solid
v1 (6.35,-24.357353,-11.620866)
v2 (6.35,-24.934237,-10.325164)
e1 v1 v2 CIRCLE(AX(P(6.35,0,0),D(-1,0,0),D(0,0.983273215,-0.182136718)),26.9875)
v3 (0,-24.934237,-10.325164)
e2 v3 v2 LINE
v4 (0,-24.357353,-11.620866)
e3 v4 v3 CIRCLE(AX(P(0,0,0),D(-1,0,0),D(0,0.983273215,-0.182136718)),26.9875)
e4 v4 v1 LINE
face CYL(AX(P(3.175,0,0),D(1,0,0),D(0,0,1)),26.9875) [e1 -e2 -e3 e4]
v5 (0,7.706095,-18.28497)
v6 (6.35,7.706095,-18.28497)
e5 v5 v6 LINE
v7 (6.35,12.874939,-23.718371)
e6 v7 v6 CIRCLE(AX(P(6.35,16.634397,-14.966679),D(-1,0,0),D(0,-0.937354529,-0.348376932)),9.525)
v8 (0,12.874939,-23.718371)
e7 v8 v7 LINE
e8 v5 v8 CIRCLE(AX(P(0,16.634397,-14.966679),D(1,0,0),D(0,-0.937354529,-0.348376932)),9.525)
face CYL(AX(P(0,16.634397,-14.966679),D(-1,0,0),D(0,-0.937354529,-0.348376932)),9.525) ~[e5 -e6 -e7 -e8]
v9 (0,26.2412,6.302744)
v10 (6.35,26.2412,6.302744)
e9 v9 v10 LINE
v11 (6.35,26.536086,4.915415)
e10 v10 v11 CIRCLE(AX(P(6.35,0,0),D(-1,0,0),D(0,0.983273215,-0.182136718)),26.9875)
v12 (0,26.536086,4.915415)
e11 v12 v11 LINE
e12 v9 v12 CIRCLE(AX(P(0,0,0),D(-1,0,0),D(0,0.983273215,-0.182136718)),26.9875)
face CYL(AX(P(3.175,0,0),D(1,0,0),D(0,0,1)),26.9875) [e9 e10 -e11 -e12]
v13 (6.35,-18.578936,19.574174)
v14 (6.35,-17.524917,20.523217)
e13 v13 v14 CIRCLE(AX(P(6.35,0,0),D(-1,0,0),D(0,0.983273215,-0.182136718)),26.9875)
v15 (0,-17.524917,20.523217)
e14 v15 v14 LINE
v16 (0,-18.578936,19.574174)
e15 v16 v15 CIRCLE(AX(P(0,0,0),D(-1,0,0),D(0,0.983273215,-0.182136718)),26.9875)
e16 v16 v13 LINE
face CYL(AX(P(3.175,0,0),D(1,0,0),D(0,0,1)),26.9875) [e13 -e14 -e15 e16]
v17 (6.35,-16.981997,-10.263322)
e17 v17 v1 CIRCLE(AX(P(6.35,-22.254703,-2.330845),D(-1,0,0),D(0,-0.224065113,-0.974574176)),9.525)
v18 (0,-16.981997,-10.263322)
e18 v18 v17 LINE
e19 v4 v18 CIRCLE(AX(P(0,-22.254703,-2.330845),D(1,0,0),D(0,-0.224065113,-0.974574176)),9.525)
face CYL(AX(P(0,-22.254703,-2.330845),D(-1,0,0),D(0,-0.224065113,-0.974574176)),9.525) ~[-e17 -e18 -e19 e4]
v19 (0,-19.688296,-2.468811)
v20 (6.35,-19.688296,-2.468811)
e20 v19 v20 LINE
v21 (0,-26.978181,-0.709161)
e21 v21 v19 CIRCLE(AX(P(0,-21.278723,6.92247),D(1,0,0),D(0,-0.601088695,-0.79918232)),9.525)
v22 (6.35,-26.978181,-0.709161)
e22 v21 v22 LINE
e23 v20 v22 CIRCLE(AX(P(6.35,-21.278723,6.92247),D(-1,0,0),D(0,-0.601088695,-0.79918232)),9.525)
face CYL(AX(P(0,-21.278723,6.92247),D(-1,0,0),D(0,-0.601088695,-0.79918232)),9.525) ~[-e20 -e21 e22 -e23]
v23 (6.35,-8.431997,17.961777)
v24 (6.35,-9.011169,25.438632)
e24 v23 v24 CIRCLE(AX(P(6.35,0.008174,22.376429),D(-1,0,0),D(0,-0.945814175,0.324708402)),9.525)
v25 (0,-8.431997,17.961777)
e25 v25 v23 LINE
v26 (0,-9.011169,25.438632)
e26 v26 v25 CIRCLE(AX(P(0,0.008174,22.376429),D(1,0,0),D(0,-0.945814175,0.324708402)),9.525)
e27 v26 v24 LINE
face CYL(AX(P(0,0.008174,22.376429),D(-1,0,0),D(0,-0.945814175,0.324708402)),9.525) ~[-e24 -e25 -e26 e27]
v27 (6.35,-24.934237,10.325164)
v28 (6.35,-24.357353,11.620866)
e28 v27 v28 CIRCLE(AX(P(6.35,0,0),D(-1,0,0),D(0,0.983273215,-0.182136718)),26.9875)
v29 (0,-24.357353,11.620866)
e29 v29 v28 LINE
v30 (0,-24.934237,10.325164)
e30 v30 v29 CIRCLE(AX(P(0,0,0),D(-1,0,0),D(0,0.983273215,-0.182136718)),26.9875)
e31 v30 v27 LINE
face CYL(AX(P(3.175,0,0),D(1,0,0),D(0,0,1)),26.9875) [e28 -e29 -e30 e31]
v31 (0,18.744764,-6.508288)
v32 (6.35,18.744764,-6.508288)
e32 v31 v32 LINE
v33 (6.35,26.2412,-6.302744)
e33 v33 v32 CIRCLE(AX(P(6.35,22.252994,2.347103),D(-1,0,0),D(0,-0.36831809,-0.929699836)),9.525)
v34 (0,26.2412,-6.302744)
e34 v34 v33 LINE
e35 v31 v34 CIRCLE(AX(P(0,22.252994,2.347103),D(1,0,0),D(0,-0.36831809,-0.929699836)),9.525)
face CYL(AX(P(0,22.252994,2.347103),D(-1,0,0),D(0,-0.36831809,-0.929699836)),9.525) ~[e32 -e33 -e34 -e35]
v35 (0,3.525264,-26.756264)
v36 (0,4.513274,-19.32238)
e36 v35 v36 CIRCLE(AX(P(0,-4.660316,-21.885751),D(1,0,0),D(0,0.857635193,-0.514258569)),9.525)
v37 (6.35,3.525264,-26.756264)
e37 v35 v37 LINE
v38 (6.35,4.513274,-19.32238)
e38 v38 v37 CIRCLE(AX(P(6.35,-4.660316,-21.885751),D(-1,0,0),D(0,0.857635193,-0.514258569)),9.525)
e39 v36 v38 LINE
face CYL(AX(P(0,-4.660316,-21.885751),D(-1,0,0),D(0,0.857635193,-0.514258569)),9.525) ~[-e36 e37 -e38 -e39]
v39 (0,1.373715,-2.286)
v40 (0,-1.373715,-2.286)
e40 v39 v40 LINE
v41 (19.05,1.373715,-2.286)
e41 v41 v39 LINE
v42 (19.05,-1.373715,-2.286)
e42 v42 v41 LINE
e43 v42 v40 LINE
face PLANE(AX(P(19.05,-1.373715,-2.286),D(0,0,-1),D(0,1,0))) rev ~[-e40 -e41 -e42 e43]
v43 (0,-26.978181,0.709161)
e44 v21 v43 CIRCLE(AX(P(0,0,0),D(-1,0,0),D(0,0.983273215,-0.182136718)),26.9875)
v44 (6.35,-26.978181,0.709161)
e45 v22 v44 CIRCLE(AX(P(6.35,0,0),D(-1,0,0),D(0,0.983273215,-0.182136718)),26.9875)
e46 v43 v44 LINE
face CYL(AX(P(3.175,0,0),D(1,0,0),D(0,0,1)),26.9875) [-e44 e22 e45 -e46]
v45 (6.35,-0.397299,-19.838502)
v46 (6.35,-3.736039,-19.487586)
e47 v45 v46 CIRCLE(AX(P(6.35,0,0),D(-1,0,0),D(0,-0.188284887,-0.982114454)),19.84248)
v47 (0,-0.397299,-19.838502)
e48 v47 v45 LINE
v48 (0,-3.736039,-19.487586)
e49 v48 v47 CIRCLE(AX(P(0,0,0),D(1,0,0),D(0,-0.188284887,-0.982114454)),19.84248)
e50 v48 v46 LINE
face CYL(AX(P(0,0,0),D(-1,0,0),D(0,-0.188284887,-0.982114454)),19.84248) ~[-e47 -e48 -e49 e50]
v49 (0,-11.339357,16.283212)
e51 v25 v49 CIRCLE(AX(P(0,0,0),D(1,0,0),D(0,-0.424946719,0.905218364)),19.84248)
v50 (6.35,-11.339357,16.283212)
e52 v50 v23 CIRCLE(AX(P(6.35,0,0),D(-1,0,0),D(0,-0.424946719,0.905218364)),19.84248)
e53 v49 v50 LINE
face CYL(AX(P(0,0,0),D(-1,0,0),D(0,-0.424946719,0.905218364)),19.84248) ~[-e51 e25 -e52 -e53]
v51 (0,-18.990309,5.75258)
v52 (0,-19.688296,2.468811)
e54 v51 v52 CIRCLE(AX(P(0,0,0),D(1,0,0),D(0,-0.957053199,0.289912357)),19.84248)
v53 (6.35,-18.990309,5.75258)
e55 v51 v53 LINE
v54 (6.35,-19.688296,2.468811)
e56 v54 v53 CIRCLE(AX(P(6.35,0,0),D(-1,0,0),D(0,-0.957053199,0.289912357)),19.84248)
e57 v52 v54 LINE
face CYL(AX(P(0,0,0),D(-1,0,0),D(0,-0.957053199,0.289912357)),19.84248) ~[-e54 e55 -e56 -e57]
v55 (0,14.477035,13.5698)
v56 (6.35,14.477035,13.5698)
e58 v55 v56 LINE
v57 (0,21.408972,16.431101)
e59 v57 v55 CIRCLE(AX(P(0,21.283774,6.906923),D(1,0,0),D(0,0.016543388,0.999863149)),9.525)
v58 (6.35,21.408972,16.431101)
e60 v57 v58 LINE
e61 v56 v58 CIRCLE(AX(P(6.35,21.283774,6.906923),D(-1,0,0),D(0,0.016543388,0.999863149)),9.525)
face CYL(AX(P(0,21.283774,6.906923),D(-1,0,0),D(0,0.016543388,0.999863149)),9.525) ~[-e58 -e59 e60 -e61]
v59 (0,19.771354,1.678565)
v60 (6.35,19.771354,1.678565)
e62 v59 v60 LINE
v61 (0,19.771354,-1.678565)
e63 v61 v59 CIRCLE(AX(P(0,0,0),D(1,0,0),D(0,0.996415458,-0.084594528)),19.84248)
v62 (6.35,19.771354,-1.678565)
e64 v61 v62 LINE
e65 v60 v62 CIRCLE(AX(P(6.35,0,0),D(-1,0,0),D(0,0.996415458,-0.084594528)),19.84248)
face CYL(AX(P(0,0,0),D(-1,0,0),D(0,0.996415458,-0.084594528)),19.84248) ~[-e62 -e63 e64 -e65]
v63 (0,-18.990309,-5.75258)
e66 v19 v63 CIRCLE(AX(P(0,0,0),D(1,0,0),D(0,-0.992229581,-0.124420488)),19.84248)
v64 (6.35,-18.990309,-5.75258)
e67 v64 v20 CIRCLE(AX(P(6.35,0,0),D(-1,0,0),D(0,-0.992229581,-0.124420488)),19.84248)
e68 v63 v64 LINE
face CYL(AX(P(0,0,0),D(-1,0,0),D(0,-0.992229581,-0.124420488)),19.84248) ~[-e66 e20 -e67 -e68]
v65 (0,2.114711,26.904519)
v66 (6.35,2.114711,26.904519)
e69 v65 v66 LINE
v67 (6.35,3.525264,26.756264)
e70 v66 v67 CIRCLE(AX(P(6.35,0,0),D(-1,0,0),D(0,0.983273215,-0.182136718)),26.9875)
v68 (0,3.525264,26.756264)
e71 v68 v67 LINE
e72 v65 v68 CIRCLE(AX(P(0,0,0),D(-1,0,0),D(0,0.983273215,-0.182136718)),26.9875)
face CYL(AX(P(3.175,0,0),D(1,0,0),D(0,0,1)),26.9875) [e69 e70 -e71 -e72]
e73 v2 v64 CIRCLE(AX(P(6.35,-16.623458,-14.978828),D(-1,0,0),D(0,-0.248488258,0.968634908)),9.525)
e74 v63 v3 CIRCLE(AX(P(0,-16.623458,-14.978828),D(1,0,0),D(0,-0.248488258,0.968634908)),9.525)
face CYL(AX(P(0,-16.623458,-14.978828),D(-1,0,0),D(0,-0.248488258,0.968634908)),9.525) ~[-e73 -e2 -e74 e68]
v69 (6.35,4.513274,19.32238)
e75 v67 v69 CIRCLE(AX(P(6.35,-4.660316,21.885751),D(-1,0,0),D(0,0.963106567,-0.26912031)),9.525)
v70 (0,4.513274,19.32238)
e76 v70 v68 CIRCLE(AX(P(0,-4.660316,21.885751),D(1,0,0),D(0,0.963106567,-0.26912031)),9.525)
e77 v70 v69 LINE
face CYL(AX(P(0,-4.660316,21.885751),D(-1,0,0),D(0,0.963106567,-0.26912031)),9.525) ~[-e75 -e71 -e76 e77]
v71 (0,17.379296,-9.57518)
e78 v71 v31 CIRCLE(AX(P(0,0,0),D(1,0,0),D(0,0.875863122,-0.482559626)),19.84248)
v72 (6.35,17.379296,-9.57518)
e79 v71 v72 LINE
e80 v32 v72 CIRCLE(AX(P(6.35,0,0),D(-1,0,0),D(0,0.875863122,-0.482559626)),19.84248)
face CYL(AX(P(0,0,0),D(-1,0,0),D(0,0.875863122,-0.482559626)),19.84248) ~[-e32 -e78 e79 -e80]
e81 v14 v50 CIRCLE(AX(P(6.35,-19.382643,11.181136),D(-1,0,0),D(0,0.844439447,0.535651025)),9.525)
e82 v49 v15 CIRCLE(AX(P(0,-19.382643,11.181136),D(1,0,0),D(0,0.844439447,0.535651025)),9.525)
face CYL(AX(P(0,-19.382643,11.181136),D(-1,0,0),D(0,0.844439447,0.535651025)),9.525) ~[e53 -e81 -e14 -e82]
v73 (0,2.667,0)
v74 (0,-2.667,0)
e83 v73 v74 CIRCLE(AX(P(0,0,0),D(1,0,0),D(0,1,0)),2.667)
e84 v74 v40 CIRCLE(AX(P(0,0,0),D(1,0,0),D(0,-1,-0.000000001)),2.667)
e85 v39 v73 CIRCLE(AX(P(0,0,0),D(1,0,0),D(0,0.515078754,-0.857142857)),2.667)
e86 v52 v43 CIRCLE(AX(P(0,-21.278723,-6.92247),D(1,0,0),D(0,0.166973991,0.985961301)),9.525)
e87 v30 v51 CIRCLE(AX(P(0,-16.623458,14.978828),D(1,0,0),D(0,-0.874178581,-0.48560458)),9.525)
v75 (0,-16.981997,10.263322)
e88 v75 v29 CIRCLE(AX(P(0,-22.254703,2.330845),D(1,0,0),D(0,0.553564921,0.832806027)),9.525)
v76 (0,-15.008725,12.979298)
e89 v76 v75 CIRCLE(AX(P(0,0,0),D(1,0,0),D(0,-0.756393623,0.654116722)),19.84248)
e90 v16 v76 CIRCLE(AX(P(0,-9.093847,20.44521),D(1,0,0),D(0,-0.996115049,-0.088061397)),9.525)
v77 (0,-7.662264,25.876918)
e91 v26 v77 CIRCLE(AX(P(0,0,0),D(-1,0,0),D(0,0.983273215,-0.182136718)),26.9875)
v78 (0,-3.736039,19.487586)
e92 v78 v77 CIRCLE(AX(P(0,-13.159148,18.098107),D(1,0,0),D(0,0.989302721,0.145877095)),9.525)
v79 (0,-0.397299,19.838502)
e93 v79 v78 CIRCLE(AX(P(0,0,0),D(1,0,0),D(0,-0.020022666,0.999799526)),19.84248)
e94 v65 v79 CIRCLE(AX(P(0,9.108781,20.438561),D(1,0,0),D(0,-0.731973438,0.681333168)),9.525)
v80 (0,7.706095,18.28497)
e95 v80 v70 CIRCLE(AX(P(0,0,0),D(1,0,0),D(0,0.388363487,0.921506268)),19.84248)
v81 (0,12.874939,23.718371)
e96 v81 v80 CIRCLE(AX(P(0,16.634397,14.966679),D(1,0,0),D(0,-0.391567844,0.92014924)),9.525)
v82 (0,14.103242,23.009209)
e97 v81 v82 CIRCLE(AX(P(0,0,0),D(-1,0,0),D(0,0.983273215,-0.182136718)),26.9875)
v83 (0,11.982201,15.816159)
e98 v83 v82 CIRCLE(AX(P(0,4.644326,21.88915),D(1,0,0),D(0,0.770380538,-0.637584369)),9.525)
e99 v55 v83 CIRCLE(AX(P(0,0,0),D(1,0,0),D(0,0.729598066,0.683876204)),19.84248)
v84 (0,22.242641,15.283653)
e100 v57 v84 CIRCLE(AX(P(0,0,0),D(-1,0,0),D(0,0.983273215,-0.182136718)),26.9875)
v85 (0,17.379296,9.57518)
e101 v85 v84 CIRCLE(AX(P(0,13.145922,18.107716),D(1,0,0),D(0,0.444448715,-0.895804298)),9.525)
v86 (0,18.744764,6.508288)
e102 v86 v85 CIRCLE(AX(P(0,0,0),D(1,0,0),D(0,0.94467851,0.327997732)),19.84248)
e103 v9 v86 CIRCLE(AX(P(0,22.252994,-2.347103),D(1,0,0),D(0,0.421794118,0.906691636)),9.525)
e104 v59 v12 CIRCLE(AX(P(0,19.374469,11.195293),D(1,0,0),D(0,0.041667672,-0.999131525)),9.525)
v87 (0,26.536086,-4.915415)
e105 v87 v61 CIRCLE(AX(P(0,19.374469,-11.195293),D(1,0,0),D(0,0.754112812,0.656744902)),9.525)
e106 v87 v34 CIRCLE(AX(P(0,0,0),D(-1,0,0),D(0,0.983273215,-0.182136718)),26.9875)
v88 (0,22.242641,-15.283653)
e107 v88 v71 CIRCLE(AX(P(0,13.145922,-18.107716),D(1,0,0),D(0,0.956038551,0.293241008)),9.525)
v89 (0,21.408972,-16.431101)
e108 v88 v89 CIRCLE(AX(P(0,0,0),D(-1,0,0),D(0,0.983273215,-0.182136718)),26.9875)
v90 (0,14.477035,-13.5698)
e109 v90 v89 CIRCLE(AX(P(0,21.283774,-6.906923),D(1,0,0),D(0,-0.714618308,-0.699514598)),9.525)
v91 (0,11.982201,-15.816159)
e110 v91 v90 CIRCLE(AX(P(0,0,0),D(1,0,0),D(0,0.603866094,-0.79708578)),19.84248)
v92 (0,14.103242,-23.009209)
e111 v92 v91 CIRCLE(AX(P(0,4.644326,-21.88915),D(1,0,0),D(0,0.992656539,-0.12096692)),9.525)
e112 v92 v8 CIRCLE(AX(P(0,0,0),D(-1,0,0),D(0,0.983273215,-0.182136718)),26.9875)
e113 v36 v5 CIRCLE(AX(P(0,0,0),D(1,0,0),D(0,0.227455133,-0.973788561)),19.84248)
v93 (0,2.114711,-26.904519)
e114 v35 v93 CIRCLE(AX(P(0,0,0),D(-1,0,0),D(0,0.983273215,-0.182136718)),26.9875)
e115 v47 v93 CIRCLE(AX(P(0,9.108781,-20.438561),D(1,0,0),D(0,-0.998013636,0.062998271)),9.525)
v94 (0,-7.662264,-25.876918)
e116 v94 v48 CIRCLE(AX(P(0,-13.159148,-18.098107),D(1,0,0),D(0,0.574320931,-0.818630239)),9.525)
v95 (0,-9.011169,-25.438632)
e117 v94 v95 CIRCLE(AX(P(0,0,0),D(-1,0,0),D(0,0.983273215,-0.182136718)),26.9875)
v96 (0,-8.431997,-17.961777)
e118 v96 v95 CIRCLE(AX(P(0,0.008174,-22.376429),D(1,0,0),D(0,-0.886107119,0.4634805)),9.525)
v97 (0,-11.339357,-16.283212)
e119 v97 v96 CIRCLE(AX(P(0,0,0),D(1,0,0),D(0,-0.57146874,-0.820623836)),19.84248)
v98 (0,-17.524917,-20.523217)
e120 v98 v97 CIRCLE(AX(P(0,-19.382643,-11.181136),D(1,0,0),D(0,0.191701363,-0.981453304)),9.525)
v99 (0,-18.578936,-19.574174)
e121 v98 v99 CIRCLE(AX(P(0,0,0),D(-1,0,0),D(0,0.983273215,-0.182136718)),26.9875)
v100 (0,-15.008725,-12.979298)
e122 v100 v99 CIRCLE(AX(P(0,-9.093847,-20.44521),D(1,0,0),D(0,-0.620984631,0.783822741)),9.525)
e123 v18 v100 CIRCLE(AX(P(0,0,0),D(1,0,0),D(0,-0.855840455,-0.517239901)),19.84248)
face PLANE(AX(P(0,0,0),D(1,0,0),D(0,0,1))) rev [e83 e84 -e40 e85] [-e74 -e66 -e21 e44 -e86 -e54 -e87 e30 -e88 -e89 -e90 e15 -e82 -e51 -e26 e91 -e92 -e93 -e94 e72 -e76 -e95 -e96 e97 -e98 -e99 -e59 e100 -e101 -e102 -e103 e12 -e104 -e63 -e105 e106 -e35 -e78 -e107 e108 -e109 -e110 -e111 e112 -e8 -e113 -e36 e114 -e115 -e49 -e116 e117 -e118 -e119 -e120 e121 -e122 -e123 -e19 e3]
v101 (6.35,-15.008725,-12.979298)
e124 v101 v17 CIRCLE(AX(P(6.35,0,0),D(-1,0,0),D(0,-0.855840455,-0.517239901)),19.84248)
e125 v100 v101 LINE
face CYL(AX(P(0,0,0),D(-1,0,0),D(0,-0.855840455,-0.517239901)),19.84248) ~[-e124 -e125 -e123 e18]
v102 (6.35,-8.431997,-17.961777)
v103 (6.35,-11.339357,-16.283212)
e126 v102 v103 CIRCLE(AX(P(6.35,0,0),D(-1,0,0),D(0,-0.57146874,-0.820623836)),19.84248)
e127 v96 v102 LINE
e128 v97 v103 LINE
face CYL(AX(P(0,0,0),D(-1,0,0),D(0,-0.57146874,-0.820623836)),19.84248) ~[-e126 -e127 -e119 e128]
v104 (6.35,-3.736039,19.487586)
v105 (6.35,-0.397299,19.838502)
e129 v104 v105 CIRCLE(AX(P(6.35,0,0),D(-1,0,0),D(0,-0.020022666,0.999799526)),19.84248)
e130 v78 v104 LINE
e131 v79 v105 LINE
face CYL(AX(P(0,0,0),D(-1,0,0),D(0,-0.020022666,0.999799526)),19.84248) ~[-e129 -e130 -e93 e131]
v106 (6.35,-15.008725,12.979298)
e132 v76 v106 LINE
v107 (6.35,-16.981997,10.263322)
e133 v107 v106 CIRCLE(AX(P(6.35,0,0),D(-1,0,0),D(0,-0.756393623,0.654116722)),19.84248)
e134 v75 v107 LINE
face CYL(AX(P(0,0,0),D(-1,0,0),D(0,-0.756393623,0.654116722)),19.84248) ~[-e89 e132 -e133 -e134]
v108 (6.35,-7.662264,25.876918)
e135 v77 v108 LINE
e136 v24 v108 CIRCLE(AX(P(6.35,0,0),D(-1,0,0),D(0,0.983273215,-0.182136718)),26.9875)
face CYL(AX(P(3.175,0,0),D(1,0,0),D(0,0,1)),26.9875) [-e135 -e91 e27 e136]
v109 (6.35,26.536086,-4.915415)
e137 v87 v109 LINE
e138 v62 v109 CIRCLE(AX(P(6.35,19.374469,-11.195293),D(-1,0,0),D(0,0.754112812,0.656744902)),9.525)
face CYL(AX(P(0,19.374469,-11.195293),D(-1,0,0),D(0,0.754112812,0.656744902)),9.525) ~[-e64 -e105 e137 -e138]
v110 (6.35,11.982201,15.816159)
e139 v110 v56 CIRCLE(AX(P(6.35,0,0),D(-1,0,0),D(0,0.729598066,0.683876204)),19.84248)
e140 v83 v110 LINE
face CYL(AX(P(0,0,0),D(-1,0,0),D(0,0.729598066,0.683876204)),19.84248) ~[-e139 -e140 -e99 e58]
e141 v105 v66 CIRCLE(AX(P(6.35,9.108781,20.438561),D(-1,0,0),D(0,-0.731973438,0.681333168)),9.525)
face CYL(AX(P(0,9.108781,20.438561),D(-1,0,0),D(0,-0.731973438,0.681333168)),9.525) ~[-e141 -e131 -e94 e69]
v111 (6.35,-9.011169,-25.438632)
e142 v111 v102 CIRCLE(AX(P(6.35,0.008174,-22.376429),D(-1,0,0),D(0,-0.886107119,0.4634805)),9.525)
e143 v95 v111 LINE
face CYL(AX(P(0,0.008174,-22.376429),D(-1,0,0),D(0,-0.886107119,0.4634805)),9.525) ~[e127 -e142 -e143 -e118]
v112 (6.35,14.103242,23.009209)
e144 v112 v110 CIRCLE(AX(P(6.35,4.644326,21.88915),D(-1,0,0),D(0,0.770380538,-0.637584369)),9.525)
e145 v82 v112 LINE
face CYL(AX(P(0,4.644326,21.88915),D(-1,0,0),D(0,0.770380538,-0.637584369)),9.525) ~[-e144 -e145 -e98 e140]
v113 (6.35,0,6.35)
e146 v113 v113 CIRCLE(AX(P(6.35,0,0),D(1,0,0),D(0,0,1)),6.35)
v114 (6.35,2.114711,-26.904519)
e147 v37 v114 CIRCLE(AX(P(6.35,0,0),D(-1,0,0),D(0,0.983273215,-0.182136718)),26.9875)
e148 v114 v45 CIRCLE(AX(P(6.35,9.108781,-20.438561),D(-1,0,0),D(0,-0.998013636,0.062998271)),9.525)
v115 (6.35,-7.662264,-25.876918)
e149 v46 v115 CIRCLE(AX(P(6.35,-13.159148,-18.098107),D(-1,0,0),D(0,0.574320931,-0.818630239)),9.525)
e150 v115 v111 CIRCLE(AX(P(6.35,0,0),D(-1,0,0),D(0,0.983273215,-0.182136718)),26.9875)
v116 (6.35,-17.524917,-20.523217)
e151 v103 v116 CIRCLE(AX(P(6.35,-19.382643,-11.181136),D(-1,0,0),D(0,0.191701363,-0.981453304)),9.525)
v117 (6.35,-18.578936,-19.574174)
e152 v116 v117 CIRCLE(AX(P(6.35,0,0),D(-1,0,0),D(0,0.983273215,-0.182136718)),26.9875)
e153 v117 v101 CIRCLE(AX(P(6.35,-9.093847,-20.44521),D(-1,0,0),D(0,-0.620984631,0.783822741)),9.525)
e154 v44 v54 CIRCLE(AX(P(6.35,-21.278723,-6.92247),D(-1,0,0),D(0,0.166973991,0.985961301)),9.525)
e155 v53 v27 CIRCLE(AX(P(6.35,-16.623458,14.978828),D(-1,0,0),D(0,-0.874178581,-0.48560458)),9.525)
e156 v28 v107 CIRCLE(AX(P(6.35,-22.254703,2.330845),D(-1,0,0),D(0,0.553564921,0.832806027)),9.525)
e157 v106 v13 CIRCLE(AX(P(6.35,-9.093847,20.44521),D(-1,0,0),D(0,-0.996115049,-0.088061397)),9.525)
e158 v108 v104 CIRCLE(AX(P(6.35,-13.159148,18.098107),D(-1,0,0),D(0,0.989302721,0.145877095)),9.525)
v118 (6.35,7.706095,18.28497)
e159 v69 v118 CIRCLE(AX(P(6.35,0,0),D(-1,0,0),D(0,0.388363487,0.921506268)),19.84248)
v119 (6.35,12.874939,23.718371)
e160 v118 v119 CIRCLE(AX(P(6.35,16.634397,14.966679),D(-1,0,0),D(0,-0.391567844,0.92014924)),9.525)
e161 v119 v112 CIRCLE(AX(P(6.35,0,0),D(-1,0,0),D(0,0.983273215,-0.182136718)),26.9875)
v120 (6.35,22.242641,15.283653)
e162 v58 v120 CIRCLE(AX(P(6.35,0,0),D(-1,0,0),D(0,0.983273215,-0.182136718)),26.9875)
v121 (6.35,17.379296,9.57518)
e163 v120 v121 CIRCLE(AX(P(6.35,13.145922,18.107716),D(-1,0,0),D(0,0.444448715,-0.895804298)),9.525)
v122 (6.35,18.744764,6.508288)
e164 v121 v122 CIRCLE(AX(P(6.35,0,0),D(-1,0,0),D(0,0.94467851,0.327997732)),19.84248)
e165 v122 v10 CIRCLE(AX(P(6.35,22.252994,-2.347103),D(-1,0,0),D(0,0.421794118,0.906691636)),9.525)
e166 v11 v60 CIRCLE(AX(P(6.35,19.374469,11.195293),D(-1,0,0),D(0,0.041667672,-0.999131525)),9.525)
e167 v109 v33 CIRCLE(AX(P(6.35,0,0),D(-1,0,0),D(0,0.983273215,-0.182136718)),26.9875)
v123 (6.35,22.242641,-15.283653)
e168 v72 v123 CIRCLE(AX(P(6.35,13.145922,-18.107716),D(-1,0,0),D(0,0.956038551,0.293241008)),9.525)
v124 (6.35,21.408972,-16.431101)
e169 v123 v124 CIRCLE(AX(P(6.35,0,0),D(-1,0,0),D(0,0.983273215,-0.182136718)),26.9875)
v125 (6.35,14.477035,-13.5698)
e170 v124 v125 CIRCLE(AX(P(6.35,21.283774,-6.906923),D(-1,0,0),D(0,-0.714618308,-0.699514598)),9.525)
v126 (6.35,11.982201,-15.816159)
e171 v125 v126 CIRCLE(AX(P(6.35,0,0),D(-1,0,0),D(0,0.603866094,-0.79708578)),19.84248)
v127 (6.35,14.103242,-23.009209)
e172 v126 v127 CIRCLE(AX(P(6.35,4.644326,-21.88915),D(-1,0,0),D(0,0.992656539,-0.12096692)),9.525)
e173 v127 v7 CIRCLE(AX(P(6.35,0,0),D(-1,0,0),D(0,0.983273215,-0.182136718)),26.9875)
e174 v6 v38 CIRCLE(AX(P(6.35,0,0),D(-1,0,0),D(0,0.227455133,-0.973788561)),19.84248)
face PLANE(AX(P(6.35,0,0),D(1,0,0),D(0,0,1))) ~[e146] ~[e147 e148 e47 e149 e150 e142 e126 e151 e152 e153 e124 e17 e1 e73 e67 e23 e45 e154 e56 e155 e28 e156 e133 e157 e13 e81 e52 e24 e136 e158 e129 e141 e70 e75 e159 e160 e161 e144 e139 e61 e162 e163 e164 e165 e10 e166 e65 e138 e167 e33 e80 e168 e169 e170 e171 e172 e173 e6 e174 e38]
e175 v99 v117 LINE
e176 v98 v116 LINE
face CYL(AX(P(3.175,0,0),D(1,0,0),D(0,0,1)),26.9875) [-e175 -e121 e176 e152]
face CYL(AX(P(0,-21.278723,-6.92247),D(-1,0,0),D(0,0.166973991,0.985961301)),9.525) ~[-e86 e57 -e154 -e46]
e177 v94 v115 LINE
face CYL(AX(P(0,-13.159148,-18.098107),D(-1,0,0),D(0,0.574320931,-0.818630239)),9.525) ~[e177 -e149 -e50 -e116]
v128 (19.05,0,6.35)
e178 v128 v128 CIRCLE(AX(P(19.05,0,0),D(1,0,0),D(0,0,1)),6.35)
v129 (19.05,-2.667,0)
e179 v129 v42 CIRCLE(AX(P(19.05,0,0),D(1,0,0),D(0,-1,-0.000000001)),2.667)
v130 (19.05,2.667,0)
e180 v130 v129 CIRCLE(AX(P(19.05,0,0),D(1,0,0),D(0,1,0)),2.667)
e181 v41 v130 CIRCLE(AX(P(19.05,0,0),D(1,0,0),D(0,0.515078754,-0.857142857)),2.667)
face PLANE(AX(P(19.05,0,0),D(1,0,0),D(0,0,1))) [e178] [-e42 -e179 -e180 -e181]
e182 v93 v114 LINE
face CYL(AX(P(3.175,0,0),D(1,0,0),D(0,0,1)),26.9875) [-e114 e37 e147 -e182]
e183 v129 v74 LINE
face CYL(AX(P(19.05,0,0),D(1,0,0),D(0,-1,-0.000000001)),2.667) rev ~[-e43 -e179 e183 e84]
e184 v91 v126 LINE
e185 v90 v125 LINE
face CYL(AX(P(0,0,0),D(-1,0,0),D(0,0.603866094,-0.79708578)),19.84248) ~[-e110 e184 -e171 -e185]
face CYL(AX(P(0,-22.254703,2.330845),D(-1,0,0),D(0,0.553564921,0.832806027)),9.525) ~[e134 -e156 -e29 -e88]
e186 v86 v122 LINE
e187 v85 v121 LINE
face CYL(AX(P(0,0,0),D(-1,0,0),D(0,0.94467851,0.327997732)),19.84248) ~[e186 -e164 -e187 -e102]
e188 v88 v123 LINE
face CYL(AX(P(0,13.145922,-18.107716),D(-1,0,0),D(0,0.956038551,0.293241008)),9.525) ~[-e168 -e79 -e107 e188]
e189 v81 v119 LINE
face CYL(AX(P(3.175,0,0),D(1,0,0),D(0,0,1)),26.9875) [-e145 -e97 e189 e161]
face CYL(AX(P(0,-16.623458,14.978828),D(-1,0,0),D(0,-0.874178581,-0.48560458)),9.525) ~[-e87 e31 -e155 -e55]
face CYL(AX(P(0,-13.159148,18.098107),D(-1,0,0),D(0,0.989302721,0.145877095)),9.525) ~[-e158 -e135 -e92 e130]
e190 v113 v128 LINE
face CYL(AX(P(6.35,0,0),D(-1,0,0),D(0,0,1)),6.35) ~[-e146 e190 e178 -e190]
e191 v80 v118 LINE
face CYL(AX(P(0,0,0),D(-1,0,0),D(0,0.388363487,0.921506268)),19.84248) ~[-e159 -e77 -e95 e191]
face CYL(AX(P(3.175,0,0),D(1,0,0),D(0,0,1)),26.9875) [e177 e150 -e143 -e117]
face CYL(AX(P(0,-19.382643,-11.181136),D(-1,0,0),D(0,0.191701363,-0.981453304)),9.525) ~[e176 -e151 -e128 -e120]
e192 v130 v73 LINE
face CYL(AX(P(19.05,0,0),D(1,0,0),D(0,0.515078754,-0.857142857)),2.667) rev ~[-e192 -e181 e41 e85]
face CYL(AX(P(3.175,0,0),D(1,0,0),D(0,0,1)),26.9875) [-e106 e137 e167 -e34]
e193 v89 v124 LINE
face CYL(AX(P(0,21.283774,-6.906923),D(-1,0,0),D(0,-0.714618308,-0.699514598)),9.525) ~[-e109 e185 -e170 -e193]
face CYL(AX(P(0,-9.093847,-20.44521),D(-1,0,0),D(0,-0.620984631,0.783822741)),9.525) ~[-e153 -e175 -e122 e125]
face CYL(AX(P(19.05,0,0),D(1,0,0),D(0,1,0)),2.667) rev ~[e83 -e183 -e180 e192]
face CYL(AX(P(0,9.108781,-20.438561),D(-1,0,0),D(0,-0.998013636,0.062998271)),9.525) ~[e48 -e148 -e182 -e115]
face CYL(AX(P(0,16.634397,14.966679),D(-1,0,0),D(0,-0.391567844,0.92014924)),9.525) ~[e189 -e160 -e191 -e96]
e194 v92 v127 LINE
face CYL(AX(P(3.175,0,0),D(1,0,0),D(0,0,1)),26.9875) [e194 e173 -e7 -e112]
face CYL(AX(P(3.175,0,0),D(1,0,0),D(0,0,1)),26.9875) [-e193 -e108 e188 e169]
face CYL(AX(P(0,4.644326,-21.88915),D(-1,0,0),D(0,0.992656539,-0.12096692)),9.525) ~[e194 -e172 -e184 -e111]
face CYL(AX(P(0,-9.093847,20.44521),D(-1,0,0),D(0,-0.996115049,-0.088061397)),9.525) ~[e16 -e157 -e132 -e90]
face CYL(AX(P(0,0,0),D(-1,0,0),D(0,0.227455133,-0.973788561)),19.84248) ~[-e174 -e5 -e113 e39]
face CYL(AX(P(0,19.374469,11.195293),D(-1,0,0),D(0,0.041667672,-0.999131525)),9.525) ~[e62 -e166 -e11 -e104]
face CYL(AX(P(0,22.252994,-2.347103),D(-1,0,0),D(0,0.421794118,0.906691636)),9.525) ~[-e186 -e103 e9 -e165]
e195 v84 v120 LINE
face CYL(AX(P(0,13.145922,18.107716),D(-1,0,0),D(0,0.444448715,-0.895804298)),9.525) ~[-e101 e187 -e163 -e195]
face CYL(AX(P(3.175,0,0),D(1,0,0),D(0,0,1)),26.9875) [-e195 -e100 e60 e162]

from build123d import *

# Parameters (mm, degrees)
BASPROSKE_W         = 6.35
BASPROSKE_H         = 26.9875
TOOTHCUT_DEPTH      = 39.690732902
TEETHCUTS_COUNT     = 15
BORSKE_R            = 1.5875
BORE_DEPTH          = 50.8000508
SKETCH1_R           = 6.35
BOSS_EXTRUDE1_DEPTH = 12.7
CUT_EXTRUDE1_DEPTH  = 43.603765196


with BuildPart() as part:
    # BasProSke → Base-Revolve (revolve)
    with BuildSketch(Plane(origin=(0, 0, 0), x_dir=(1, 0, 0), z_dir=(0, 1, 0)), mode=Mode.PRIVATE) as base_revolve_sk:
        with Locations((3.175, 13.49375)):
            Rectangle(BASPROSKE_W, BASPROSKE_H)
    revolve(base_revolve_sk.sketch.rotate(Axis((-10, 0, 0), (1, 0, 0)), 180), axis=Axis((-10, 0, 0), (1, 0, 0)))

    # TooCutSke → ToothCut (cut, through all)
    with BuildSketch(Plane(origin=(0, 0, 0), x_dir=(0, 0, -1), z_dir=(1, 0, 0))):
        with BuildLine():
            ThreePointArc((1.678565227, 19.771353806), (0, 19.84248), (-1.678565227, 19.771353806))
            ThreePointArc((-1.678565227, 19.771353806), (-2.61022813, 23.500276553), (-4.939797818, 26.557393771))
            ThreePointArc((-4.939797818, 26.557393771), (0, 27.0129), (4.939797818, 26.557393771))
            ThreePointArc((4.939797818, 26.557393771), (2.61022813, 23.500276553), (1.678565227, 19.771353806))
        make_face()
    toothcut = extrude(amount=TOOTHCUT_DEPTH, mode=Mode.SUBTRACT)

    # TeethCuts: ToothCut ×15 about axis
    teethcuts_axis = Axis((0, 0, 0), (1, 0, 0))
    for i in range(1, TEETHCUTS_COUNT):
        add(toothcut.rotate(teethcuts_axis, i * 360 / TEETHCUTS_COUNT), mode=Mode.SUBTRACT)

    # BorSke → Bore (cut, symmetric)
    with BuildSketch(Plane(origin=(0, 0, 0), x_dir=(0, 0, -1), z_dir=(1, 0, 0))):
        with Locations(Location((0, 0, 0), (0, 0, 180))):
            Circle(BORSKE_R)
    extrude(amount=BORE_DEPTH, both=True, mode=Mode.SUBTRACT)

    # Sketch1 → Boss-Extrude1 (add)
    with BuildSketch(Plane(origin=(6.35, 0, 0), x_dir=(0, 0, -1), z_dir=(1, 0, 0))):
        with Locations(Location((0, 0, 0), (0, 0, 180))):
            Circle(SKETCH1_R)
    extrude(amount=BOSS_EXTRUDE1_DEPTH)

    # Sketch2 → Cut-Extrude1 (cut, through all)
    with BuildSketch(Plane(origin=(19.05, 0, 0), x_dir=(0, 0, -1), z_dir=(1, 0, 0))):
        with BuildLine():
            ThreePointArc((2.286, 1.373715036), (1.313238554, 2.321269803), (0, 2.667))
            Line((0, 2.667), (0, 0))
            Line((0, 0), (2.286, 0))
            Line((2.286, 0), (2.286, 1.373715036))
        make_face()
        with BuildLine():
            Line((2.286, 0), (0, 0))
            Line((0, 0), (0, -2.667))
            ThreePointArc((0, -2.667), (1.313238554, -2.321269803), (2.286, -1.373715036))
            Line((2.286, -1.373715036), (2.286, 0))
        make_face()
        with BuildLine():
            Line((0, 0), (0, 2.667))
            ThreePointArc((0, 2.667), (-2.667, 0), (0, -2.667))
            Line((0, -2.667), (0, 0))
        make_face()
        with BuildLine():
            ThreePointArc((2.286, 1.373715036), (1.313238554, 2.321269803), (0, 2.667))
            Line((0, 2.667), (0, 0))
            Line((0, 0), (2.286, 0))
            Line((2.286, 0), (2.286, 1.373715036))
        make_face()
        with BuildLine():
            Line((2.286, 0), (0, 0))
            Line((0, 0), (0, -2.667))
            ThreePointArc((0, -2.667), (1.313238554, -2.321269803), (2.286, -1.373715036))
            Line((2.286, -1.373715036), (2.286, 0))
        make_face()
    extrude(amount=-CUT_EXTRUDE1_DEPTH, mode=Mode.SUBTRACT)


solid = part.part
